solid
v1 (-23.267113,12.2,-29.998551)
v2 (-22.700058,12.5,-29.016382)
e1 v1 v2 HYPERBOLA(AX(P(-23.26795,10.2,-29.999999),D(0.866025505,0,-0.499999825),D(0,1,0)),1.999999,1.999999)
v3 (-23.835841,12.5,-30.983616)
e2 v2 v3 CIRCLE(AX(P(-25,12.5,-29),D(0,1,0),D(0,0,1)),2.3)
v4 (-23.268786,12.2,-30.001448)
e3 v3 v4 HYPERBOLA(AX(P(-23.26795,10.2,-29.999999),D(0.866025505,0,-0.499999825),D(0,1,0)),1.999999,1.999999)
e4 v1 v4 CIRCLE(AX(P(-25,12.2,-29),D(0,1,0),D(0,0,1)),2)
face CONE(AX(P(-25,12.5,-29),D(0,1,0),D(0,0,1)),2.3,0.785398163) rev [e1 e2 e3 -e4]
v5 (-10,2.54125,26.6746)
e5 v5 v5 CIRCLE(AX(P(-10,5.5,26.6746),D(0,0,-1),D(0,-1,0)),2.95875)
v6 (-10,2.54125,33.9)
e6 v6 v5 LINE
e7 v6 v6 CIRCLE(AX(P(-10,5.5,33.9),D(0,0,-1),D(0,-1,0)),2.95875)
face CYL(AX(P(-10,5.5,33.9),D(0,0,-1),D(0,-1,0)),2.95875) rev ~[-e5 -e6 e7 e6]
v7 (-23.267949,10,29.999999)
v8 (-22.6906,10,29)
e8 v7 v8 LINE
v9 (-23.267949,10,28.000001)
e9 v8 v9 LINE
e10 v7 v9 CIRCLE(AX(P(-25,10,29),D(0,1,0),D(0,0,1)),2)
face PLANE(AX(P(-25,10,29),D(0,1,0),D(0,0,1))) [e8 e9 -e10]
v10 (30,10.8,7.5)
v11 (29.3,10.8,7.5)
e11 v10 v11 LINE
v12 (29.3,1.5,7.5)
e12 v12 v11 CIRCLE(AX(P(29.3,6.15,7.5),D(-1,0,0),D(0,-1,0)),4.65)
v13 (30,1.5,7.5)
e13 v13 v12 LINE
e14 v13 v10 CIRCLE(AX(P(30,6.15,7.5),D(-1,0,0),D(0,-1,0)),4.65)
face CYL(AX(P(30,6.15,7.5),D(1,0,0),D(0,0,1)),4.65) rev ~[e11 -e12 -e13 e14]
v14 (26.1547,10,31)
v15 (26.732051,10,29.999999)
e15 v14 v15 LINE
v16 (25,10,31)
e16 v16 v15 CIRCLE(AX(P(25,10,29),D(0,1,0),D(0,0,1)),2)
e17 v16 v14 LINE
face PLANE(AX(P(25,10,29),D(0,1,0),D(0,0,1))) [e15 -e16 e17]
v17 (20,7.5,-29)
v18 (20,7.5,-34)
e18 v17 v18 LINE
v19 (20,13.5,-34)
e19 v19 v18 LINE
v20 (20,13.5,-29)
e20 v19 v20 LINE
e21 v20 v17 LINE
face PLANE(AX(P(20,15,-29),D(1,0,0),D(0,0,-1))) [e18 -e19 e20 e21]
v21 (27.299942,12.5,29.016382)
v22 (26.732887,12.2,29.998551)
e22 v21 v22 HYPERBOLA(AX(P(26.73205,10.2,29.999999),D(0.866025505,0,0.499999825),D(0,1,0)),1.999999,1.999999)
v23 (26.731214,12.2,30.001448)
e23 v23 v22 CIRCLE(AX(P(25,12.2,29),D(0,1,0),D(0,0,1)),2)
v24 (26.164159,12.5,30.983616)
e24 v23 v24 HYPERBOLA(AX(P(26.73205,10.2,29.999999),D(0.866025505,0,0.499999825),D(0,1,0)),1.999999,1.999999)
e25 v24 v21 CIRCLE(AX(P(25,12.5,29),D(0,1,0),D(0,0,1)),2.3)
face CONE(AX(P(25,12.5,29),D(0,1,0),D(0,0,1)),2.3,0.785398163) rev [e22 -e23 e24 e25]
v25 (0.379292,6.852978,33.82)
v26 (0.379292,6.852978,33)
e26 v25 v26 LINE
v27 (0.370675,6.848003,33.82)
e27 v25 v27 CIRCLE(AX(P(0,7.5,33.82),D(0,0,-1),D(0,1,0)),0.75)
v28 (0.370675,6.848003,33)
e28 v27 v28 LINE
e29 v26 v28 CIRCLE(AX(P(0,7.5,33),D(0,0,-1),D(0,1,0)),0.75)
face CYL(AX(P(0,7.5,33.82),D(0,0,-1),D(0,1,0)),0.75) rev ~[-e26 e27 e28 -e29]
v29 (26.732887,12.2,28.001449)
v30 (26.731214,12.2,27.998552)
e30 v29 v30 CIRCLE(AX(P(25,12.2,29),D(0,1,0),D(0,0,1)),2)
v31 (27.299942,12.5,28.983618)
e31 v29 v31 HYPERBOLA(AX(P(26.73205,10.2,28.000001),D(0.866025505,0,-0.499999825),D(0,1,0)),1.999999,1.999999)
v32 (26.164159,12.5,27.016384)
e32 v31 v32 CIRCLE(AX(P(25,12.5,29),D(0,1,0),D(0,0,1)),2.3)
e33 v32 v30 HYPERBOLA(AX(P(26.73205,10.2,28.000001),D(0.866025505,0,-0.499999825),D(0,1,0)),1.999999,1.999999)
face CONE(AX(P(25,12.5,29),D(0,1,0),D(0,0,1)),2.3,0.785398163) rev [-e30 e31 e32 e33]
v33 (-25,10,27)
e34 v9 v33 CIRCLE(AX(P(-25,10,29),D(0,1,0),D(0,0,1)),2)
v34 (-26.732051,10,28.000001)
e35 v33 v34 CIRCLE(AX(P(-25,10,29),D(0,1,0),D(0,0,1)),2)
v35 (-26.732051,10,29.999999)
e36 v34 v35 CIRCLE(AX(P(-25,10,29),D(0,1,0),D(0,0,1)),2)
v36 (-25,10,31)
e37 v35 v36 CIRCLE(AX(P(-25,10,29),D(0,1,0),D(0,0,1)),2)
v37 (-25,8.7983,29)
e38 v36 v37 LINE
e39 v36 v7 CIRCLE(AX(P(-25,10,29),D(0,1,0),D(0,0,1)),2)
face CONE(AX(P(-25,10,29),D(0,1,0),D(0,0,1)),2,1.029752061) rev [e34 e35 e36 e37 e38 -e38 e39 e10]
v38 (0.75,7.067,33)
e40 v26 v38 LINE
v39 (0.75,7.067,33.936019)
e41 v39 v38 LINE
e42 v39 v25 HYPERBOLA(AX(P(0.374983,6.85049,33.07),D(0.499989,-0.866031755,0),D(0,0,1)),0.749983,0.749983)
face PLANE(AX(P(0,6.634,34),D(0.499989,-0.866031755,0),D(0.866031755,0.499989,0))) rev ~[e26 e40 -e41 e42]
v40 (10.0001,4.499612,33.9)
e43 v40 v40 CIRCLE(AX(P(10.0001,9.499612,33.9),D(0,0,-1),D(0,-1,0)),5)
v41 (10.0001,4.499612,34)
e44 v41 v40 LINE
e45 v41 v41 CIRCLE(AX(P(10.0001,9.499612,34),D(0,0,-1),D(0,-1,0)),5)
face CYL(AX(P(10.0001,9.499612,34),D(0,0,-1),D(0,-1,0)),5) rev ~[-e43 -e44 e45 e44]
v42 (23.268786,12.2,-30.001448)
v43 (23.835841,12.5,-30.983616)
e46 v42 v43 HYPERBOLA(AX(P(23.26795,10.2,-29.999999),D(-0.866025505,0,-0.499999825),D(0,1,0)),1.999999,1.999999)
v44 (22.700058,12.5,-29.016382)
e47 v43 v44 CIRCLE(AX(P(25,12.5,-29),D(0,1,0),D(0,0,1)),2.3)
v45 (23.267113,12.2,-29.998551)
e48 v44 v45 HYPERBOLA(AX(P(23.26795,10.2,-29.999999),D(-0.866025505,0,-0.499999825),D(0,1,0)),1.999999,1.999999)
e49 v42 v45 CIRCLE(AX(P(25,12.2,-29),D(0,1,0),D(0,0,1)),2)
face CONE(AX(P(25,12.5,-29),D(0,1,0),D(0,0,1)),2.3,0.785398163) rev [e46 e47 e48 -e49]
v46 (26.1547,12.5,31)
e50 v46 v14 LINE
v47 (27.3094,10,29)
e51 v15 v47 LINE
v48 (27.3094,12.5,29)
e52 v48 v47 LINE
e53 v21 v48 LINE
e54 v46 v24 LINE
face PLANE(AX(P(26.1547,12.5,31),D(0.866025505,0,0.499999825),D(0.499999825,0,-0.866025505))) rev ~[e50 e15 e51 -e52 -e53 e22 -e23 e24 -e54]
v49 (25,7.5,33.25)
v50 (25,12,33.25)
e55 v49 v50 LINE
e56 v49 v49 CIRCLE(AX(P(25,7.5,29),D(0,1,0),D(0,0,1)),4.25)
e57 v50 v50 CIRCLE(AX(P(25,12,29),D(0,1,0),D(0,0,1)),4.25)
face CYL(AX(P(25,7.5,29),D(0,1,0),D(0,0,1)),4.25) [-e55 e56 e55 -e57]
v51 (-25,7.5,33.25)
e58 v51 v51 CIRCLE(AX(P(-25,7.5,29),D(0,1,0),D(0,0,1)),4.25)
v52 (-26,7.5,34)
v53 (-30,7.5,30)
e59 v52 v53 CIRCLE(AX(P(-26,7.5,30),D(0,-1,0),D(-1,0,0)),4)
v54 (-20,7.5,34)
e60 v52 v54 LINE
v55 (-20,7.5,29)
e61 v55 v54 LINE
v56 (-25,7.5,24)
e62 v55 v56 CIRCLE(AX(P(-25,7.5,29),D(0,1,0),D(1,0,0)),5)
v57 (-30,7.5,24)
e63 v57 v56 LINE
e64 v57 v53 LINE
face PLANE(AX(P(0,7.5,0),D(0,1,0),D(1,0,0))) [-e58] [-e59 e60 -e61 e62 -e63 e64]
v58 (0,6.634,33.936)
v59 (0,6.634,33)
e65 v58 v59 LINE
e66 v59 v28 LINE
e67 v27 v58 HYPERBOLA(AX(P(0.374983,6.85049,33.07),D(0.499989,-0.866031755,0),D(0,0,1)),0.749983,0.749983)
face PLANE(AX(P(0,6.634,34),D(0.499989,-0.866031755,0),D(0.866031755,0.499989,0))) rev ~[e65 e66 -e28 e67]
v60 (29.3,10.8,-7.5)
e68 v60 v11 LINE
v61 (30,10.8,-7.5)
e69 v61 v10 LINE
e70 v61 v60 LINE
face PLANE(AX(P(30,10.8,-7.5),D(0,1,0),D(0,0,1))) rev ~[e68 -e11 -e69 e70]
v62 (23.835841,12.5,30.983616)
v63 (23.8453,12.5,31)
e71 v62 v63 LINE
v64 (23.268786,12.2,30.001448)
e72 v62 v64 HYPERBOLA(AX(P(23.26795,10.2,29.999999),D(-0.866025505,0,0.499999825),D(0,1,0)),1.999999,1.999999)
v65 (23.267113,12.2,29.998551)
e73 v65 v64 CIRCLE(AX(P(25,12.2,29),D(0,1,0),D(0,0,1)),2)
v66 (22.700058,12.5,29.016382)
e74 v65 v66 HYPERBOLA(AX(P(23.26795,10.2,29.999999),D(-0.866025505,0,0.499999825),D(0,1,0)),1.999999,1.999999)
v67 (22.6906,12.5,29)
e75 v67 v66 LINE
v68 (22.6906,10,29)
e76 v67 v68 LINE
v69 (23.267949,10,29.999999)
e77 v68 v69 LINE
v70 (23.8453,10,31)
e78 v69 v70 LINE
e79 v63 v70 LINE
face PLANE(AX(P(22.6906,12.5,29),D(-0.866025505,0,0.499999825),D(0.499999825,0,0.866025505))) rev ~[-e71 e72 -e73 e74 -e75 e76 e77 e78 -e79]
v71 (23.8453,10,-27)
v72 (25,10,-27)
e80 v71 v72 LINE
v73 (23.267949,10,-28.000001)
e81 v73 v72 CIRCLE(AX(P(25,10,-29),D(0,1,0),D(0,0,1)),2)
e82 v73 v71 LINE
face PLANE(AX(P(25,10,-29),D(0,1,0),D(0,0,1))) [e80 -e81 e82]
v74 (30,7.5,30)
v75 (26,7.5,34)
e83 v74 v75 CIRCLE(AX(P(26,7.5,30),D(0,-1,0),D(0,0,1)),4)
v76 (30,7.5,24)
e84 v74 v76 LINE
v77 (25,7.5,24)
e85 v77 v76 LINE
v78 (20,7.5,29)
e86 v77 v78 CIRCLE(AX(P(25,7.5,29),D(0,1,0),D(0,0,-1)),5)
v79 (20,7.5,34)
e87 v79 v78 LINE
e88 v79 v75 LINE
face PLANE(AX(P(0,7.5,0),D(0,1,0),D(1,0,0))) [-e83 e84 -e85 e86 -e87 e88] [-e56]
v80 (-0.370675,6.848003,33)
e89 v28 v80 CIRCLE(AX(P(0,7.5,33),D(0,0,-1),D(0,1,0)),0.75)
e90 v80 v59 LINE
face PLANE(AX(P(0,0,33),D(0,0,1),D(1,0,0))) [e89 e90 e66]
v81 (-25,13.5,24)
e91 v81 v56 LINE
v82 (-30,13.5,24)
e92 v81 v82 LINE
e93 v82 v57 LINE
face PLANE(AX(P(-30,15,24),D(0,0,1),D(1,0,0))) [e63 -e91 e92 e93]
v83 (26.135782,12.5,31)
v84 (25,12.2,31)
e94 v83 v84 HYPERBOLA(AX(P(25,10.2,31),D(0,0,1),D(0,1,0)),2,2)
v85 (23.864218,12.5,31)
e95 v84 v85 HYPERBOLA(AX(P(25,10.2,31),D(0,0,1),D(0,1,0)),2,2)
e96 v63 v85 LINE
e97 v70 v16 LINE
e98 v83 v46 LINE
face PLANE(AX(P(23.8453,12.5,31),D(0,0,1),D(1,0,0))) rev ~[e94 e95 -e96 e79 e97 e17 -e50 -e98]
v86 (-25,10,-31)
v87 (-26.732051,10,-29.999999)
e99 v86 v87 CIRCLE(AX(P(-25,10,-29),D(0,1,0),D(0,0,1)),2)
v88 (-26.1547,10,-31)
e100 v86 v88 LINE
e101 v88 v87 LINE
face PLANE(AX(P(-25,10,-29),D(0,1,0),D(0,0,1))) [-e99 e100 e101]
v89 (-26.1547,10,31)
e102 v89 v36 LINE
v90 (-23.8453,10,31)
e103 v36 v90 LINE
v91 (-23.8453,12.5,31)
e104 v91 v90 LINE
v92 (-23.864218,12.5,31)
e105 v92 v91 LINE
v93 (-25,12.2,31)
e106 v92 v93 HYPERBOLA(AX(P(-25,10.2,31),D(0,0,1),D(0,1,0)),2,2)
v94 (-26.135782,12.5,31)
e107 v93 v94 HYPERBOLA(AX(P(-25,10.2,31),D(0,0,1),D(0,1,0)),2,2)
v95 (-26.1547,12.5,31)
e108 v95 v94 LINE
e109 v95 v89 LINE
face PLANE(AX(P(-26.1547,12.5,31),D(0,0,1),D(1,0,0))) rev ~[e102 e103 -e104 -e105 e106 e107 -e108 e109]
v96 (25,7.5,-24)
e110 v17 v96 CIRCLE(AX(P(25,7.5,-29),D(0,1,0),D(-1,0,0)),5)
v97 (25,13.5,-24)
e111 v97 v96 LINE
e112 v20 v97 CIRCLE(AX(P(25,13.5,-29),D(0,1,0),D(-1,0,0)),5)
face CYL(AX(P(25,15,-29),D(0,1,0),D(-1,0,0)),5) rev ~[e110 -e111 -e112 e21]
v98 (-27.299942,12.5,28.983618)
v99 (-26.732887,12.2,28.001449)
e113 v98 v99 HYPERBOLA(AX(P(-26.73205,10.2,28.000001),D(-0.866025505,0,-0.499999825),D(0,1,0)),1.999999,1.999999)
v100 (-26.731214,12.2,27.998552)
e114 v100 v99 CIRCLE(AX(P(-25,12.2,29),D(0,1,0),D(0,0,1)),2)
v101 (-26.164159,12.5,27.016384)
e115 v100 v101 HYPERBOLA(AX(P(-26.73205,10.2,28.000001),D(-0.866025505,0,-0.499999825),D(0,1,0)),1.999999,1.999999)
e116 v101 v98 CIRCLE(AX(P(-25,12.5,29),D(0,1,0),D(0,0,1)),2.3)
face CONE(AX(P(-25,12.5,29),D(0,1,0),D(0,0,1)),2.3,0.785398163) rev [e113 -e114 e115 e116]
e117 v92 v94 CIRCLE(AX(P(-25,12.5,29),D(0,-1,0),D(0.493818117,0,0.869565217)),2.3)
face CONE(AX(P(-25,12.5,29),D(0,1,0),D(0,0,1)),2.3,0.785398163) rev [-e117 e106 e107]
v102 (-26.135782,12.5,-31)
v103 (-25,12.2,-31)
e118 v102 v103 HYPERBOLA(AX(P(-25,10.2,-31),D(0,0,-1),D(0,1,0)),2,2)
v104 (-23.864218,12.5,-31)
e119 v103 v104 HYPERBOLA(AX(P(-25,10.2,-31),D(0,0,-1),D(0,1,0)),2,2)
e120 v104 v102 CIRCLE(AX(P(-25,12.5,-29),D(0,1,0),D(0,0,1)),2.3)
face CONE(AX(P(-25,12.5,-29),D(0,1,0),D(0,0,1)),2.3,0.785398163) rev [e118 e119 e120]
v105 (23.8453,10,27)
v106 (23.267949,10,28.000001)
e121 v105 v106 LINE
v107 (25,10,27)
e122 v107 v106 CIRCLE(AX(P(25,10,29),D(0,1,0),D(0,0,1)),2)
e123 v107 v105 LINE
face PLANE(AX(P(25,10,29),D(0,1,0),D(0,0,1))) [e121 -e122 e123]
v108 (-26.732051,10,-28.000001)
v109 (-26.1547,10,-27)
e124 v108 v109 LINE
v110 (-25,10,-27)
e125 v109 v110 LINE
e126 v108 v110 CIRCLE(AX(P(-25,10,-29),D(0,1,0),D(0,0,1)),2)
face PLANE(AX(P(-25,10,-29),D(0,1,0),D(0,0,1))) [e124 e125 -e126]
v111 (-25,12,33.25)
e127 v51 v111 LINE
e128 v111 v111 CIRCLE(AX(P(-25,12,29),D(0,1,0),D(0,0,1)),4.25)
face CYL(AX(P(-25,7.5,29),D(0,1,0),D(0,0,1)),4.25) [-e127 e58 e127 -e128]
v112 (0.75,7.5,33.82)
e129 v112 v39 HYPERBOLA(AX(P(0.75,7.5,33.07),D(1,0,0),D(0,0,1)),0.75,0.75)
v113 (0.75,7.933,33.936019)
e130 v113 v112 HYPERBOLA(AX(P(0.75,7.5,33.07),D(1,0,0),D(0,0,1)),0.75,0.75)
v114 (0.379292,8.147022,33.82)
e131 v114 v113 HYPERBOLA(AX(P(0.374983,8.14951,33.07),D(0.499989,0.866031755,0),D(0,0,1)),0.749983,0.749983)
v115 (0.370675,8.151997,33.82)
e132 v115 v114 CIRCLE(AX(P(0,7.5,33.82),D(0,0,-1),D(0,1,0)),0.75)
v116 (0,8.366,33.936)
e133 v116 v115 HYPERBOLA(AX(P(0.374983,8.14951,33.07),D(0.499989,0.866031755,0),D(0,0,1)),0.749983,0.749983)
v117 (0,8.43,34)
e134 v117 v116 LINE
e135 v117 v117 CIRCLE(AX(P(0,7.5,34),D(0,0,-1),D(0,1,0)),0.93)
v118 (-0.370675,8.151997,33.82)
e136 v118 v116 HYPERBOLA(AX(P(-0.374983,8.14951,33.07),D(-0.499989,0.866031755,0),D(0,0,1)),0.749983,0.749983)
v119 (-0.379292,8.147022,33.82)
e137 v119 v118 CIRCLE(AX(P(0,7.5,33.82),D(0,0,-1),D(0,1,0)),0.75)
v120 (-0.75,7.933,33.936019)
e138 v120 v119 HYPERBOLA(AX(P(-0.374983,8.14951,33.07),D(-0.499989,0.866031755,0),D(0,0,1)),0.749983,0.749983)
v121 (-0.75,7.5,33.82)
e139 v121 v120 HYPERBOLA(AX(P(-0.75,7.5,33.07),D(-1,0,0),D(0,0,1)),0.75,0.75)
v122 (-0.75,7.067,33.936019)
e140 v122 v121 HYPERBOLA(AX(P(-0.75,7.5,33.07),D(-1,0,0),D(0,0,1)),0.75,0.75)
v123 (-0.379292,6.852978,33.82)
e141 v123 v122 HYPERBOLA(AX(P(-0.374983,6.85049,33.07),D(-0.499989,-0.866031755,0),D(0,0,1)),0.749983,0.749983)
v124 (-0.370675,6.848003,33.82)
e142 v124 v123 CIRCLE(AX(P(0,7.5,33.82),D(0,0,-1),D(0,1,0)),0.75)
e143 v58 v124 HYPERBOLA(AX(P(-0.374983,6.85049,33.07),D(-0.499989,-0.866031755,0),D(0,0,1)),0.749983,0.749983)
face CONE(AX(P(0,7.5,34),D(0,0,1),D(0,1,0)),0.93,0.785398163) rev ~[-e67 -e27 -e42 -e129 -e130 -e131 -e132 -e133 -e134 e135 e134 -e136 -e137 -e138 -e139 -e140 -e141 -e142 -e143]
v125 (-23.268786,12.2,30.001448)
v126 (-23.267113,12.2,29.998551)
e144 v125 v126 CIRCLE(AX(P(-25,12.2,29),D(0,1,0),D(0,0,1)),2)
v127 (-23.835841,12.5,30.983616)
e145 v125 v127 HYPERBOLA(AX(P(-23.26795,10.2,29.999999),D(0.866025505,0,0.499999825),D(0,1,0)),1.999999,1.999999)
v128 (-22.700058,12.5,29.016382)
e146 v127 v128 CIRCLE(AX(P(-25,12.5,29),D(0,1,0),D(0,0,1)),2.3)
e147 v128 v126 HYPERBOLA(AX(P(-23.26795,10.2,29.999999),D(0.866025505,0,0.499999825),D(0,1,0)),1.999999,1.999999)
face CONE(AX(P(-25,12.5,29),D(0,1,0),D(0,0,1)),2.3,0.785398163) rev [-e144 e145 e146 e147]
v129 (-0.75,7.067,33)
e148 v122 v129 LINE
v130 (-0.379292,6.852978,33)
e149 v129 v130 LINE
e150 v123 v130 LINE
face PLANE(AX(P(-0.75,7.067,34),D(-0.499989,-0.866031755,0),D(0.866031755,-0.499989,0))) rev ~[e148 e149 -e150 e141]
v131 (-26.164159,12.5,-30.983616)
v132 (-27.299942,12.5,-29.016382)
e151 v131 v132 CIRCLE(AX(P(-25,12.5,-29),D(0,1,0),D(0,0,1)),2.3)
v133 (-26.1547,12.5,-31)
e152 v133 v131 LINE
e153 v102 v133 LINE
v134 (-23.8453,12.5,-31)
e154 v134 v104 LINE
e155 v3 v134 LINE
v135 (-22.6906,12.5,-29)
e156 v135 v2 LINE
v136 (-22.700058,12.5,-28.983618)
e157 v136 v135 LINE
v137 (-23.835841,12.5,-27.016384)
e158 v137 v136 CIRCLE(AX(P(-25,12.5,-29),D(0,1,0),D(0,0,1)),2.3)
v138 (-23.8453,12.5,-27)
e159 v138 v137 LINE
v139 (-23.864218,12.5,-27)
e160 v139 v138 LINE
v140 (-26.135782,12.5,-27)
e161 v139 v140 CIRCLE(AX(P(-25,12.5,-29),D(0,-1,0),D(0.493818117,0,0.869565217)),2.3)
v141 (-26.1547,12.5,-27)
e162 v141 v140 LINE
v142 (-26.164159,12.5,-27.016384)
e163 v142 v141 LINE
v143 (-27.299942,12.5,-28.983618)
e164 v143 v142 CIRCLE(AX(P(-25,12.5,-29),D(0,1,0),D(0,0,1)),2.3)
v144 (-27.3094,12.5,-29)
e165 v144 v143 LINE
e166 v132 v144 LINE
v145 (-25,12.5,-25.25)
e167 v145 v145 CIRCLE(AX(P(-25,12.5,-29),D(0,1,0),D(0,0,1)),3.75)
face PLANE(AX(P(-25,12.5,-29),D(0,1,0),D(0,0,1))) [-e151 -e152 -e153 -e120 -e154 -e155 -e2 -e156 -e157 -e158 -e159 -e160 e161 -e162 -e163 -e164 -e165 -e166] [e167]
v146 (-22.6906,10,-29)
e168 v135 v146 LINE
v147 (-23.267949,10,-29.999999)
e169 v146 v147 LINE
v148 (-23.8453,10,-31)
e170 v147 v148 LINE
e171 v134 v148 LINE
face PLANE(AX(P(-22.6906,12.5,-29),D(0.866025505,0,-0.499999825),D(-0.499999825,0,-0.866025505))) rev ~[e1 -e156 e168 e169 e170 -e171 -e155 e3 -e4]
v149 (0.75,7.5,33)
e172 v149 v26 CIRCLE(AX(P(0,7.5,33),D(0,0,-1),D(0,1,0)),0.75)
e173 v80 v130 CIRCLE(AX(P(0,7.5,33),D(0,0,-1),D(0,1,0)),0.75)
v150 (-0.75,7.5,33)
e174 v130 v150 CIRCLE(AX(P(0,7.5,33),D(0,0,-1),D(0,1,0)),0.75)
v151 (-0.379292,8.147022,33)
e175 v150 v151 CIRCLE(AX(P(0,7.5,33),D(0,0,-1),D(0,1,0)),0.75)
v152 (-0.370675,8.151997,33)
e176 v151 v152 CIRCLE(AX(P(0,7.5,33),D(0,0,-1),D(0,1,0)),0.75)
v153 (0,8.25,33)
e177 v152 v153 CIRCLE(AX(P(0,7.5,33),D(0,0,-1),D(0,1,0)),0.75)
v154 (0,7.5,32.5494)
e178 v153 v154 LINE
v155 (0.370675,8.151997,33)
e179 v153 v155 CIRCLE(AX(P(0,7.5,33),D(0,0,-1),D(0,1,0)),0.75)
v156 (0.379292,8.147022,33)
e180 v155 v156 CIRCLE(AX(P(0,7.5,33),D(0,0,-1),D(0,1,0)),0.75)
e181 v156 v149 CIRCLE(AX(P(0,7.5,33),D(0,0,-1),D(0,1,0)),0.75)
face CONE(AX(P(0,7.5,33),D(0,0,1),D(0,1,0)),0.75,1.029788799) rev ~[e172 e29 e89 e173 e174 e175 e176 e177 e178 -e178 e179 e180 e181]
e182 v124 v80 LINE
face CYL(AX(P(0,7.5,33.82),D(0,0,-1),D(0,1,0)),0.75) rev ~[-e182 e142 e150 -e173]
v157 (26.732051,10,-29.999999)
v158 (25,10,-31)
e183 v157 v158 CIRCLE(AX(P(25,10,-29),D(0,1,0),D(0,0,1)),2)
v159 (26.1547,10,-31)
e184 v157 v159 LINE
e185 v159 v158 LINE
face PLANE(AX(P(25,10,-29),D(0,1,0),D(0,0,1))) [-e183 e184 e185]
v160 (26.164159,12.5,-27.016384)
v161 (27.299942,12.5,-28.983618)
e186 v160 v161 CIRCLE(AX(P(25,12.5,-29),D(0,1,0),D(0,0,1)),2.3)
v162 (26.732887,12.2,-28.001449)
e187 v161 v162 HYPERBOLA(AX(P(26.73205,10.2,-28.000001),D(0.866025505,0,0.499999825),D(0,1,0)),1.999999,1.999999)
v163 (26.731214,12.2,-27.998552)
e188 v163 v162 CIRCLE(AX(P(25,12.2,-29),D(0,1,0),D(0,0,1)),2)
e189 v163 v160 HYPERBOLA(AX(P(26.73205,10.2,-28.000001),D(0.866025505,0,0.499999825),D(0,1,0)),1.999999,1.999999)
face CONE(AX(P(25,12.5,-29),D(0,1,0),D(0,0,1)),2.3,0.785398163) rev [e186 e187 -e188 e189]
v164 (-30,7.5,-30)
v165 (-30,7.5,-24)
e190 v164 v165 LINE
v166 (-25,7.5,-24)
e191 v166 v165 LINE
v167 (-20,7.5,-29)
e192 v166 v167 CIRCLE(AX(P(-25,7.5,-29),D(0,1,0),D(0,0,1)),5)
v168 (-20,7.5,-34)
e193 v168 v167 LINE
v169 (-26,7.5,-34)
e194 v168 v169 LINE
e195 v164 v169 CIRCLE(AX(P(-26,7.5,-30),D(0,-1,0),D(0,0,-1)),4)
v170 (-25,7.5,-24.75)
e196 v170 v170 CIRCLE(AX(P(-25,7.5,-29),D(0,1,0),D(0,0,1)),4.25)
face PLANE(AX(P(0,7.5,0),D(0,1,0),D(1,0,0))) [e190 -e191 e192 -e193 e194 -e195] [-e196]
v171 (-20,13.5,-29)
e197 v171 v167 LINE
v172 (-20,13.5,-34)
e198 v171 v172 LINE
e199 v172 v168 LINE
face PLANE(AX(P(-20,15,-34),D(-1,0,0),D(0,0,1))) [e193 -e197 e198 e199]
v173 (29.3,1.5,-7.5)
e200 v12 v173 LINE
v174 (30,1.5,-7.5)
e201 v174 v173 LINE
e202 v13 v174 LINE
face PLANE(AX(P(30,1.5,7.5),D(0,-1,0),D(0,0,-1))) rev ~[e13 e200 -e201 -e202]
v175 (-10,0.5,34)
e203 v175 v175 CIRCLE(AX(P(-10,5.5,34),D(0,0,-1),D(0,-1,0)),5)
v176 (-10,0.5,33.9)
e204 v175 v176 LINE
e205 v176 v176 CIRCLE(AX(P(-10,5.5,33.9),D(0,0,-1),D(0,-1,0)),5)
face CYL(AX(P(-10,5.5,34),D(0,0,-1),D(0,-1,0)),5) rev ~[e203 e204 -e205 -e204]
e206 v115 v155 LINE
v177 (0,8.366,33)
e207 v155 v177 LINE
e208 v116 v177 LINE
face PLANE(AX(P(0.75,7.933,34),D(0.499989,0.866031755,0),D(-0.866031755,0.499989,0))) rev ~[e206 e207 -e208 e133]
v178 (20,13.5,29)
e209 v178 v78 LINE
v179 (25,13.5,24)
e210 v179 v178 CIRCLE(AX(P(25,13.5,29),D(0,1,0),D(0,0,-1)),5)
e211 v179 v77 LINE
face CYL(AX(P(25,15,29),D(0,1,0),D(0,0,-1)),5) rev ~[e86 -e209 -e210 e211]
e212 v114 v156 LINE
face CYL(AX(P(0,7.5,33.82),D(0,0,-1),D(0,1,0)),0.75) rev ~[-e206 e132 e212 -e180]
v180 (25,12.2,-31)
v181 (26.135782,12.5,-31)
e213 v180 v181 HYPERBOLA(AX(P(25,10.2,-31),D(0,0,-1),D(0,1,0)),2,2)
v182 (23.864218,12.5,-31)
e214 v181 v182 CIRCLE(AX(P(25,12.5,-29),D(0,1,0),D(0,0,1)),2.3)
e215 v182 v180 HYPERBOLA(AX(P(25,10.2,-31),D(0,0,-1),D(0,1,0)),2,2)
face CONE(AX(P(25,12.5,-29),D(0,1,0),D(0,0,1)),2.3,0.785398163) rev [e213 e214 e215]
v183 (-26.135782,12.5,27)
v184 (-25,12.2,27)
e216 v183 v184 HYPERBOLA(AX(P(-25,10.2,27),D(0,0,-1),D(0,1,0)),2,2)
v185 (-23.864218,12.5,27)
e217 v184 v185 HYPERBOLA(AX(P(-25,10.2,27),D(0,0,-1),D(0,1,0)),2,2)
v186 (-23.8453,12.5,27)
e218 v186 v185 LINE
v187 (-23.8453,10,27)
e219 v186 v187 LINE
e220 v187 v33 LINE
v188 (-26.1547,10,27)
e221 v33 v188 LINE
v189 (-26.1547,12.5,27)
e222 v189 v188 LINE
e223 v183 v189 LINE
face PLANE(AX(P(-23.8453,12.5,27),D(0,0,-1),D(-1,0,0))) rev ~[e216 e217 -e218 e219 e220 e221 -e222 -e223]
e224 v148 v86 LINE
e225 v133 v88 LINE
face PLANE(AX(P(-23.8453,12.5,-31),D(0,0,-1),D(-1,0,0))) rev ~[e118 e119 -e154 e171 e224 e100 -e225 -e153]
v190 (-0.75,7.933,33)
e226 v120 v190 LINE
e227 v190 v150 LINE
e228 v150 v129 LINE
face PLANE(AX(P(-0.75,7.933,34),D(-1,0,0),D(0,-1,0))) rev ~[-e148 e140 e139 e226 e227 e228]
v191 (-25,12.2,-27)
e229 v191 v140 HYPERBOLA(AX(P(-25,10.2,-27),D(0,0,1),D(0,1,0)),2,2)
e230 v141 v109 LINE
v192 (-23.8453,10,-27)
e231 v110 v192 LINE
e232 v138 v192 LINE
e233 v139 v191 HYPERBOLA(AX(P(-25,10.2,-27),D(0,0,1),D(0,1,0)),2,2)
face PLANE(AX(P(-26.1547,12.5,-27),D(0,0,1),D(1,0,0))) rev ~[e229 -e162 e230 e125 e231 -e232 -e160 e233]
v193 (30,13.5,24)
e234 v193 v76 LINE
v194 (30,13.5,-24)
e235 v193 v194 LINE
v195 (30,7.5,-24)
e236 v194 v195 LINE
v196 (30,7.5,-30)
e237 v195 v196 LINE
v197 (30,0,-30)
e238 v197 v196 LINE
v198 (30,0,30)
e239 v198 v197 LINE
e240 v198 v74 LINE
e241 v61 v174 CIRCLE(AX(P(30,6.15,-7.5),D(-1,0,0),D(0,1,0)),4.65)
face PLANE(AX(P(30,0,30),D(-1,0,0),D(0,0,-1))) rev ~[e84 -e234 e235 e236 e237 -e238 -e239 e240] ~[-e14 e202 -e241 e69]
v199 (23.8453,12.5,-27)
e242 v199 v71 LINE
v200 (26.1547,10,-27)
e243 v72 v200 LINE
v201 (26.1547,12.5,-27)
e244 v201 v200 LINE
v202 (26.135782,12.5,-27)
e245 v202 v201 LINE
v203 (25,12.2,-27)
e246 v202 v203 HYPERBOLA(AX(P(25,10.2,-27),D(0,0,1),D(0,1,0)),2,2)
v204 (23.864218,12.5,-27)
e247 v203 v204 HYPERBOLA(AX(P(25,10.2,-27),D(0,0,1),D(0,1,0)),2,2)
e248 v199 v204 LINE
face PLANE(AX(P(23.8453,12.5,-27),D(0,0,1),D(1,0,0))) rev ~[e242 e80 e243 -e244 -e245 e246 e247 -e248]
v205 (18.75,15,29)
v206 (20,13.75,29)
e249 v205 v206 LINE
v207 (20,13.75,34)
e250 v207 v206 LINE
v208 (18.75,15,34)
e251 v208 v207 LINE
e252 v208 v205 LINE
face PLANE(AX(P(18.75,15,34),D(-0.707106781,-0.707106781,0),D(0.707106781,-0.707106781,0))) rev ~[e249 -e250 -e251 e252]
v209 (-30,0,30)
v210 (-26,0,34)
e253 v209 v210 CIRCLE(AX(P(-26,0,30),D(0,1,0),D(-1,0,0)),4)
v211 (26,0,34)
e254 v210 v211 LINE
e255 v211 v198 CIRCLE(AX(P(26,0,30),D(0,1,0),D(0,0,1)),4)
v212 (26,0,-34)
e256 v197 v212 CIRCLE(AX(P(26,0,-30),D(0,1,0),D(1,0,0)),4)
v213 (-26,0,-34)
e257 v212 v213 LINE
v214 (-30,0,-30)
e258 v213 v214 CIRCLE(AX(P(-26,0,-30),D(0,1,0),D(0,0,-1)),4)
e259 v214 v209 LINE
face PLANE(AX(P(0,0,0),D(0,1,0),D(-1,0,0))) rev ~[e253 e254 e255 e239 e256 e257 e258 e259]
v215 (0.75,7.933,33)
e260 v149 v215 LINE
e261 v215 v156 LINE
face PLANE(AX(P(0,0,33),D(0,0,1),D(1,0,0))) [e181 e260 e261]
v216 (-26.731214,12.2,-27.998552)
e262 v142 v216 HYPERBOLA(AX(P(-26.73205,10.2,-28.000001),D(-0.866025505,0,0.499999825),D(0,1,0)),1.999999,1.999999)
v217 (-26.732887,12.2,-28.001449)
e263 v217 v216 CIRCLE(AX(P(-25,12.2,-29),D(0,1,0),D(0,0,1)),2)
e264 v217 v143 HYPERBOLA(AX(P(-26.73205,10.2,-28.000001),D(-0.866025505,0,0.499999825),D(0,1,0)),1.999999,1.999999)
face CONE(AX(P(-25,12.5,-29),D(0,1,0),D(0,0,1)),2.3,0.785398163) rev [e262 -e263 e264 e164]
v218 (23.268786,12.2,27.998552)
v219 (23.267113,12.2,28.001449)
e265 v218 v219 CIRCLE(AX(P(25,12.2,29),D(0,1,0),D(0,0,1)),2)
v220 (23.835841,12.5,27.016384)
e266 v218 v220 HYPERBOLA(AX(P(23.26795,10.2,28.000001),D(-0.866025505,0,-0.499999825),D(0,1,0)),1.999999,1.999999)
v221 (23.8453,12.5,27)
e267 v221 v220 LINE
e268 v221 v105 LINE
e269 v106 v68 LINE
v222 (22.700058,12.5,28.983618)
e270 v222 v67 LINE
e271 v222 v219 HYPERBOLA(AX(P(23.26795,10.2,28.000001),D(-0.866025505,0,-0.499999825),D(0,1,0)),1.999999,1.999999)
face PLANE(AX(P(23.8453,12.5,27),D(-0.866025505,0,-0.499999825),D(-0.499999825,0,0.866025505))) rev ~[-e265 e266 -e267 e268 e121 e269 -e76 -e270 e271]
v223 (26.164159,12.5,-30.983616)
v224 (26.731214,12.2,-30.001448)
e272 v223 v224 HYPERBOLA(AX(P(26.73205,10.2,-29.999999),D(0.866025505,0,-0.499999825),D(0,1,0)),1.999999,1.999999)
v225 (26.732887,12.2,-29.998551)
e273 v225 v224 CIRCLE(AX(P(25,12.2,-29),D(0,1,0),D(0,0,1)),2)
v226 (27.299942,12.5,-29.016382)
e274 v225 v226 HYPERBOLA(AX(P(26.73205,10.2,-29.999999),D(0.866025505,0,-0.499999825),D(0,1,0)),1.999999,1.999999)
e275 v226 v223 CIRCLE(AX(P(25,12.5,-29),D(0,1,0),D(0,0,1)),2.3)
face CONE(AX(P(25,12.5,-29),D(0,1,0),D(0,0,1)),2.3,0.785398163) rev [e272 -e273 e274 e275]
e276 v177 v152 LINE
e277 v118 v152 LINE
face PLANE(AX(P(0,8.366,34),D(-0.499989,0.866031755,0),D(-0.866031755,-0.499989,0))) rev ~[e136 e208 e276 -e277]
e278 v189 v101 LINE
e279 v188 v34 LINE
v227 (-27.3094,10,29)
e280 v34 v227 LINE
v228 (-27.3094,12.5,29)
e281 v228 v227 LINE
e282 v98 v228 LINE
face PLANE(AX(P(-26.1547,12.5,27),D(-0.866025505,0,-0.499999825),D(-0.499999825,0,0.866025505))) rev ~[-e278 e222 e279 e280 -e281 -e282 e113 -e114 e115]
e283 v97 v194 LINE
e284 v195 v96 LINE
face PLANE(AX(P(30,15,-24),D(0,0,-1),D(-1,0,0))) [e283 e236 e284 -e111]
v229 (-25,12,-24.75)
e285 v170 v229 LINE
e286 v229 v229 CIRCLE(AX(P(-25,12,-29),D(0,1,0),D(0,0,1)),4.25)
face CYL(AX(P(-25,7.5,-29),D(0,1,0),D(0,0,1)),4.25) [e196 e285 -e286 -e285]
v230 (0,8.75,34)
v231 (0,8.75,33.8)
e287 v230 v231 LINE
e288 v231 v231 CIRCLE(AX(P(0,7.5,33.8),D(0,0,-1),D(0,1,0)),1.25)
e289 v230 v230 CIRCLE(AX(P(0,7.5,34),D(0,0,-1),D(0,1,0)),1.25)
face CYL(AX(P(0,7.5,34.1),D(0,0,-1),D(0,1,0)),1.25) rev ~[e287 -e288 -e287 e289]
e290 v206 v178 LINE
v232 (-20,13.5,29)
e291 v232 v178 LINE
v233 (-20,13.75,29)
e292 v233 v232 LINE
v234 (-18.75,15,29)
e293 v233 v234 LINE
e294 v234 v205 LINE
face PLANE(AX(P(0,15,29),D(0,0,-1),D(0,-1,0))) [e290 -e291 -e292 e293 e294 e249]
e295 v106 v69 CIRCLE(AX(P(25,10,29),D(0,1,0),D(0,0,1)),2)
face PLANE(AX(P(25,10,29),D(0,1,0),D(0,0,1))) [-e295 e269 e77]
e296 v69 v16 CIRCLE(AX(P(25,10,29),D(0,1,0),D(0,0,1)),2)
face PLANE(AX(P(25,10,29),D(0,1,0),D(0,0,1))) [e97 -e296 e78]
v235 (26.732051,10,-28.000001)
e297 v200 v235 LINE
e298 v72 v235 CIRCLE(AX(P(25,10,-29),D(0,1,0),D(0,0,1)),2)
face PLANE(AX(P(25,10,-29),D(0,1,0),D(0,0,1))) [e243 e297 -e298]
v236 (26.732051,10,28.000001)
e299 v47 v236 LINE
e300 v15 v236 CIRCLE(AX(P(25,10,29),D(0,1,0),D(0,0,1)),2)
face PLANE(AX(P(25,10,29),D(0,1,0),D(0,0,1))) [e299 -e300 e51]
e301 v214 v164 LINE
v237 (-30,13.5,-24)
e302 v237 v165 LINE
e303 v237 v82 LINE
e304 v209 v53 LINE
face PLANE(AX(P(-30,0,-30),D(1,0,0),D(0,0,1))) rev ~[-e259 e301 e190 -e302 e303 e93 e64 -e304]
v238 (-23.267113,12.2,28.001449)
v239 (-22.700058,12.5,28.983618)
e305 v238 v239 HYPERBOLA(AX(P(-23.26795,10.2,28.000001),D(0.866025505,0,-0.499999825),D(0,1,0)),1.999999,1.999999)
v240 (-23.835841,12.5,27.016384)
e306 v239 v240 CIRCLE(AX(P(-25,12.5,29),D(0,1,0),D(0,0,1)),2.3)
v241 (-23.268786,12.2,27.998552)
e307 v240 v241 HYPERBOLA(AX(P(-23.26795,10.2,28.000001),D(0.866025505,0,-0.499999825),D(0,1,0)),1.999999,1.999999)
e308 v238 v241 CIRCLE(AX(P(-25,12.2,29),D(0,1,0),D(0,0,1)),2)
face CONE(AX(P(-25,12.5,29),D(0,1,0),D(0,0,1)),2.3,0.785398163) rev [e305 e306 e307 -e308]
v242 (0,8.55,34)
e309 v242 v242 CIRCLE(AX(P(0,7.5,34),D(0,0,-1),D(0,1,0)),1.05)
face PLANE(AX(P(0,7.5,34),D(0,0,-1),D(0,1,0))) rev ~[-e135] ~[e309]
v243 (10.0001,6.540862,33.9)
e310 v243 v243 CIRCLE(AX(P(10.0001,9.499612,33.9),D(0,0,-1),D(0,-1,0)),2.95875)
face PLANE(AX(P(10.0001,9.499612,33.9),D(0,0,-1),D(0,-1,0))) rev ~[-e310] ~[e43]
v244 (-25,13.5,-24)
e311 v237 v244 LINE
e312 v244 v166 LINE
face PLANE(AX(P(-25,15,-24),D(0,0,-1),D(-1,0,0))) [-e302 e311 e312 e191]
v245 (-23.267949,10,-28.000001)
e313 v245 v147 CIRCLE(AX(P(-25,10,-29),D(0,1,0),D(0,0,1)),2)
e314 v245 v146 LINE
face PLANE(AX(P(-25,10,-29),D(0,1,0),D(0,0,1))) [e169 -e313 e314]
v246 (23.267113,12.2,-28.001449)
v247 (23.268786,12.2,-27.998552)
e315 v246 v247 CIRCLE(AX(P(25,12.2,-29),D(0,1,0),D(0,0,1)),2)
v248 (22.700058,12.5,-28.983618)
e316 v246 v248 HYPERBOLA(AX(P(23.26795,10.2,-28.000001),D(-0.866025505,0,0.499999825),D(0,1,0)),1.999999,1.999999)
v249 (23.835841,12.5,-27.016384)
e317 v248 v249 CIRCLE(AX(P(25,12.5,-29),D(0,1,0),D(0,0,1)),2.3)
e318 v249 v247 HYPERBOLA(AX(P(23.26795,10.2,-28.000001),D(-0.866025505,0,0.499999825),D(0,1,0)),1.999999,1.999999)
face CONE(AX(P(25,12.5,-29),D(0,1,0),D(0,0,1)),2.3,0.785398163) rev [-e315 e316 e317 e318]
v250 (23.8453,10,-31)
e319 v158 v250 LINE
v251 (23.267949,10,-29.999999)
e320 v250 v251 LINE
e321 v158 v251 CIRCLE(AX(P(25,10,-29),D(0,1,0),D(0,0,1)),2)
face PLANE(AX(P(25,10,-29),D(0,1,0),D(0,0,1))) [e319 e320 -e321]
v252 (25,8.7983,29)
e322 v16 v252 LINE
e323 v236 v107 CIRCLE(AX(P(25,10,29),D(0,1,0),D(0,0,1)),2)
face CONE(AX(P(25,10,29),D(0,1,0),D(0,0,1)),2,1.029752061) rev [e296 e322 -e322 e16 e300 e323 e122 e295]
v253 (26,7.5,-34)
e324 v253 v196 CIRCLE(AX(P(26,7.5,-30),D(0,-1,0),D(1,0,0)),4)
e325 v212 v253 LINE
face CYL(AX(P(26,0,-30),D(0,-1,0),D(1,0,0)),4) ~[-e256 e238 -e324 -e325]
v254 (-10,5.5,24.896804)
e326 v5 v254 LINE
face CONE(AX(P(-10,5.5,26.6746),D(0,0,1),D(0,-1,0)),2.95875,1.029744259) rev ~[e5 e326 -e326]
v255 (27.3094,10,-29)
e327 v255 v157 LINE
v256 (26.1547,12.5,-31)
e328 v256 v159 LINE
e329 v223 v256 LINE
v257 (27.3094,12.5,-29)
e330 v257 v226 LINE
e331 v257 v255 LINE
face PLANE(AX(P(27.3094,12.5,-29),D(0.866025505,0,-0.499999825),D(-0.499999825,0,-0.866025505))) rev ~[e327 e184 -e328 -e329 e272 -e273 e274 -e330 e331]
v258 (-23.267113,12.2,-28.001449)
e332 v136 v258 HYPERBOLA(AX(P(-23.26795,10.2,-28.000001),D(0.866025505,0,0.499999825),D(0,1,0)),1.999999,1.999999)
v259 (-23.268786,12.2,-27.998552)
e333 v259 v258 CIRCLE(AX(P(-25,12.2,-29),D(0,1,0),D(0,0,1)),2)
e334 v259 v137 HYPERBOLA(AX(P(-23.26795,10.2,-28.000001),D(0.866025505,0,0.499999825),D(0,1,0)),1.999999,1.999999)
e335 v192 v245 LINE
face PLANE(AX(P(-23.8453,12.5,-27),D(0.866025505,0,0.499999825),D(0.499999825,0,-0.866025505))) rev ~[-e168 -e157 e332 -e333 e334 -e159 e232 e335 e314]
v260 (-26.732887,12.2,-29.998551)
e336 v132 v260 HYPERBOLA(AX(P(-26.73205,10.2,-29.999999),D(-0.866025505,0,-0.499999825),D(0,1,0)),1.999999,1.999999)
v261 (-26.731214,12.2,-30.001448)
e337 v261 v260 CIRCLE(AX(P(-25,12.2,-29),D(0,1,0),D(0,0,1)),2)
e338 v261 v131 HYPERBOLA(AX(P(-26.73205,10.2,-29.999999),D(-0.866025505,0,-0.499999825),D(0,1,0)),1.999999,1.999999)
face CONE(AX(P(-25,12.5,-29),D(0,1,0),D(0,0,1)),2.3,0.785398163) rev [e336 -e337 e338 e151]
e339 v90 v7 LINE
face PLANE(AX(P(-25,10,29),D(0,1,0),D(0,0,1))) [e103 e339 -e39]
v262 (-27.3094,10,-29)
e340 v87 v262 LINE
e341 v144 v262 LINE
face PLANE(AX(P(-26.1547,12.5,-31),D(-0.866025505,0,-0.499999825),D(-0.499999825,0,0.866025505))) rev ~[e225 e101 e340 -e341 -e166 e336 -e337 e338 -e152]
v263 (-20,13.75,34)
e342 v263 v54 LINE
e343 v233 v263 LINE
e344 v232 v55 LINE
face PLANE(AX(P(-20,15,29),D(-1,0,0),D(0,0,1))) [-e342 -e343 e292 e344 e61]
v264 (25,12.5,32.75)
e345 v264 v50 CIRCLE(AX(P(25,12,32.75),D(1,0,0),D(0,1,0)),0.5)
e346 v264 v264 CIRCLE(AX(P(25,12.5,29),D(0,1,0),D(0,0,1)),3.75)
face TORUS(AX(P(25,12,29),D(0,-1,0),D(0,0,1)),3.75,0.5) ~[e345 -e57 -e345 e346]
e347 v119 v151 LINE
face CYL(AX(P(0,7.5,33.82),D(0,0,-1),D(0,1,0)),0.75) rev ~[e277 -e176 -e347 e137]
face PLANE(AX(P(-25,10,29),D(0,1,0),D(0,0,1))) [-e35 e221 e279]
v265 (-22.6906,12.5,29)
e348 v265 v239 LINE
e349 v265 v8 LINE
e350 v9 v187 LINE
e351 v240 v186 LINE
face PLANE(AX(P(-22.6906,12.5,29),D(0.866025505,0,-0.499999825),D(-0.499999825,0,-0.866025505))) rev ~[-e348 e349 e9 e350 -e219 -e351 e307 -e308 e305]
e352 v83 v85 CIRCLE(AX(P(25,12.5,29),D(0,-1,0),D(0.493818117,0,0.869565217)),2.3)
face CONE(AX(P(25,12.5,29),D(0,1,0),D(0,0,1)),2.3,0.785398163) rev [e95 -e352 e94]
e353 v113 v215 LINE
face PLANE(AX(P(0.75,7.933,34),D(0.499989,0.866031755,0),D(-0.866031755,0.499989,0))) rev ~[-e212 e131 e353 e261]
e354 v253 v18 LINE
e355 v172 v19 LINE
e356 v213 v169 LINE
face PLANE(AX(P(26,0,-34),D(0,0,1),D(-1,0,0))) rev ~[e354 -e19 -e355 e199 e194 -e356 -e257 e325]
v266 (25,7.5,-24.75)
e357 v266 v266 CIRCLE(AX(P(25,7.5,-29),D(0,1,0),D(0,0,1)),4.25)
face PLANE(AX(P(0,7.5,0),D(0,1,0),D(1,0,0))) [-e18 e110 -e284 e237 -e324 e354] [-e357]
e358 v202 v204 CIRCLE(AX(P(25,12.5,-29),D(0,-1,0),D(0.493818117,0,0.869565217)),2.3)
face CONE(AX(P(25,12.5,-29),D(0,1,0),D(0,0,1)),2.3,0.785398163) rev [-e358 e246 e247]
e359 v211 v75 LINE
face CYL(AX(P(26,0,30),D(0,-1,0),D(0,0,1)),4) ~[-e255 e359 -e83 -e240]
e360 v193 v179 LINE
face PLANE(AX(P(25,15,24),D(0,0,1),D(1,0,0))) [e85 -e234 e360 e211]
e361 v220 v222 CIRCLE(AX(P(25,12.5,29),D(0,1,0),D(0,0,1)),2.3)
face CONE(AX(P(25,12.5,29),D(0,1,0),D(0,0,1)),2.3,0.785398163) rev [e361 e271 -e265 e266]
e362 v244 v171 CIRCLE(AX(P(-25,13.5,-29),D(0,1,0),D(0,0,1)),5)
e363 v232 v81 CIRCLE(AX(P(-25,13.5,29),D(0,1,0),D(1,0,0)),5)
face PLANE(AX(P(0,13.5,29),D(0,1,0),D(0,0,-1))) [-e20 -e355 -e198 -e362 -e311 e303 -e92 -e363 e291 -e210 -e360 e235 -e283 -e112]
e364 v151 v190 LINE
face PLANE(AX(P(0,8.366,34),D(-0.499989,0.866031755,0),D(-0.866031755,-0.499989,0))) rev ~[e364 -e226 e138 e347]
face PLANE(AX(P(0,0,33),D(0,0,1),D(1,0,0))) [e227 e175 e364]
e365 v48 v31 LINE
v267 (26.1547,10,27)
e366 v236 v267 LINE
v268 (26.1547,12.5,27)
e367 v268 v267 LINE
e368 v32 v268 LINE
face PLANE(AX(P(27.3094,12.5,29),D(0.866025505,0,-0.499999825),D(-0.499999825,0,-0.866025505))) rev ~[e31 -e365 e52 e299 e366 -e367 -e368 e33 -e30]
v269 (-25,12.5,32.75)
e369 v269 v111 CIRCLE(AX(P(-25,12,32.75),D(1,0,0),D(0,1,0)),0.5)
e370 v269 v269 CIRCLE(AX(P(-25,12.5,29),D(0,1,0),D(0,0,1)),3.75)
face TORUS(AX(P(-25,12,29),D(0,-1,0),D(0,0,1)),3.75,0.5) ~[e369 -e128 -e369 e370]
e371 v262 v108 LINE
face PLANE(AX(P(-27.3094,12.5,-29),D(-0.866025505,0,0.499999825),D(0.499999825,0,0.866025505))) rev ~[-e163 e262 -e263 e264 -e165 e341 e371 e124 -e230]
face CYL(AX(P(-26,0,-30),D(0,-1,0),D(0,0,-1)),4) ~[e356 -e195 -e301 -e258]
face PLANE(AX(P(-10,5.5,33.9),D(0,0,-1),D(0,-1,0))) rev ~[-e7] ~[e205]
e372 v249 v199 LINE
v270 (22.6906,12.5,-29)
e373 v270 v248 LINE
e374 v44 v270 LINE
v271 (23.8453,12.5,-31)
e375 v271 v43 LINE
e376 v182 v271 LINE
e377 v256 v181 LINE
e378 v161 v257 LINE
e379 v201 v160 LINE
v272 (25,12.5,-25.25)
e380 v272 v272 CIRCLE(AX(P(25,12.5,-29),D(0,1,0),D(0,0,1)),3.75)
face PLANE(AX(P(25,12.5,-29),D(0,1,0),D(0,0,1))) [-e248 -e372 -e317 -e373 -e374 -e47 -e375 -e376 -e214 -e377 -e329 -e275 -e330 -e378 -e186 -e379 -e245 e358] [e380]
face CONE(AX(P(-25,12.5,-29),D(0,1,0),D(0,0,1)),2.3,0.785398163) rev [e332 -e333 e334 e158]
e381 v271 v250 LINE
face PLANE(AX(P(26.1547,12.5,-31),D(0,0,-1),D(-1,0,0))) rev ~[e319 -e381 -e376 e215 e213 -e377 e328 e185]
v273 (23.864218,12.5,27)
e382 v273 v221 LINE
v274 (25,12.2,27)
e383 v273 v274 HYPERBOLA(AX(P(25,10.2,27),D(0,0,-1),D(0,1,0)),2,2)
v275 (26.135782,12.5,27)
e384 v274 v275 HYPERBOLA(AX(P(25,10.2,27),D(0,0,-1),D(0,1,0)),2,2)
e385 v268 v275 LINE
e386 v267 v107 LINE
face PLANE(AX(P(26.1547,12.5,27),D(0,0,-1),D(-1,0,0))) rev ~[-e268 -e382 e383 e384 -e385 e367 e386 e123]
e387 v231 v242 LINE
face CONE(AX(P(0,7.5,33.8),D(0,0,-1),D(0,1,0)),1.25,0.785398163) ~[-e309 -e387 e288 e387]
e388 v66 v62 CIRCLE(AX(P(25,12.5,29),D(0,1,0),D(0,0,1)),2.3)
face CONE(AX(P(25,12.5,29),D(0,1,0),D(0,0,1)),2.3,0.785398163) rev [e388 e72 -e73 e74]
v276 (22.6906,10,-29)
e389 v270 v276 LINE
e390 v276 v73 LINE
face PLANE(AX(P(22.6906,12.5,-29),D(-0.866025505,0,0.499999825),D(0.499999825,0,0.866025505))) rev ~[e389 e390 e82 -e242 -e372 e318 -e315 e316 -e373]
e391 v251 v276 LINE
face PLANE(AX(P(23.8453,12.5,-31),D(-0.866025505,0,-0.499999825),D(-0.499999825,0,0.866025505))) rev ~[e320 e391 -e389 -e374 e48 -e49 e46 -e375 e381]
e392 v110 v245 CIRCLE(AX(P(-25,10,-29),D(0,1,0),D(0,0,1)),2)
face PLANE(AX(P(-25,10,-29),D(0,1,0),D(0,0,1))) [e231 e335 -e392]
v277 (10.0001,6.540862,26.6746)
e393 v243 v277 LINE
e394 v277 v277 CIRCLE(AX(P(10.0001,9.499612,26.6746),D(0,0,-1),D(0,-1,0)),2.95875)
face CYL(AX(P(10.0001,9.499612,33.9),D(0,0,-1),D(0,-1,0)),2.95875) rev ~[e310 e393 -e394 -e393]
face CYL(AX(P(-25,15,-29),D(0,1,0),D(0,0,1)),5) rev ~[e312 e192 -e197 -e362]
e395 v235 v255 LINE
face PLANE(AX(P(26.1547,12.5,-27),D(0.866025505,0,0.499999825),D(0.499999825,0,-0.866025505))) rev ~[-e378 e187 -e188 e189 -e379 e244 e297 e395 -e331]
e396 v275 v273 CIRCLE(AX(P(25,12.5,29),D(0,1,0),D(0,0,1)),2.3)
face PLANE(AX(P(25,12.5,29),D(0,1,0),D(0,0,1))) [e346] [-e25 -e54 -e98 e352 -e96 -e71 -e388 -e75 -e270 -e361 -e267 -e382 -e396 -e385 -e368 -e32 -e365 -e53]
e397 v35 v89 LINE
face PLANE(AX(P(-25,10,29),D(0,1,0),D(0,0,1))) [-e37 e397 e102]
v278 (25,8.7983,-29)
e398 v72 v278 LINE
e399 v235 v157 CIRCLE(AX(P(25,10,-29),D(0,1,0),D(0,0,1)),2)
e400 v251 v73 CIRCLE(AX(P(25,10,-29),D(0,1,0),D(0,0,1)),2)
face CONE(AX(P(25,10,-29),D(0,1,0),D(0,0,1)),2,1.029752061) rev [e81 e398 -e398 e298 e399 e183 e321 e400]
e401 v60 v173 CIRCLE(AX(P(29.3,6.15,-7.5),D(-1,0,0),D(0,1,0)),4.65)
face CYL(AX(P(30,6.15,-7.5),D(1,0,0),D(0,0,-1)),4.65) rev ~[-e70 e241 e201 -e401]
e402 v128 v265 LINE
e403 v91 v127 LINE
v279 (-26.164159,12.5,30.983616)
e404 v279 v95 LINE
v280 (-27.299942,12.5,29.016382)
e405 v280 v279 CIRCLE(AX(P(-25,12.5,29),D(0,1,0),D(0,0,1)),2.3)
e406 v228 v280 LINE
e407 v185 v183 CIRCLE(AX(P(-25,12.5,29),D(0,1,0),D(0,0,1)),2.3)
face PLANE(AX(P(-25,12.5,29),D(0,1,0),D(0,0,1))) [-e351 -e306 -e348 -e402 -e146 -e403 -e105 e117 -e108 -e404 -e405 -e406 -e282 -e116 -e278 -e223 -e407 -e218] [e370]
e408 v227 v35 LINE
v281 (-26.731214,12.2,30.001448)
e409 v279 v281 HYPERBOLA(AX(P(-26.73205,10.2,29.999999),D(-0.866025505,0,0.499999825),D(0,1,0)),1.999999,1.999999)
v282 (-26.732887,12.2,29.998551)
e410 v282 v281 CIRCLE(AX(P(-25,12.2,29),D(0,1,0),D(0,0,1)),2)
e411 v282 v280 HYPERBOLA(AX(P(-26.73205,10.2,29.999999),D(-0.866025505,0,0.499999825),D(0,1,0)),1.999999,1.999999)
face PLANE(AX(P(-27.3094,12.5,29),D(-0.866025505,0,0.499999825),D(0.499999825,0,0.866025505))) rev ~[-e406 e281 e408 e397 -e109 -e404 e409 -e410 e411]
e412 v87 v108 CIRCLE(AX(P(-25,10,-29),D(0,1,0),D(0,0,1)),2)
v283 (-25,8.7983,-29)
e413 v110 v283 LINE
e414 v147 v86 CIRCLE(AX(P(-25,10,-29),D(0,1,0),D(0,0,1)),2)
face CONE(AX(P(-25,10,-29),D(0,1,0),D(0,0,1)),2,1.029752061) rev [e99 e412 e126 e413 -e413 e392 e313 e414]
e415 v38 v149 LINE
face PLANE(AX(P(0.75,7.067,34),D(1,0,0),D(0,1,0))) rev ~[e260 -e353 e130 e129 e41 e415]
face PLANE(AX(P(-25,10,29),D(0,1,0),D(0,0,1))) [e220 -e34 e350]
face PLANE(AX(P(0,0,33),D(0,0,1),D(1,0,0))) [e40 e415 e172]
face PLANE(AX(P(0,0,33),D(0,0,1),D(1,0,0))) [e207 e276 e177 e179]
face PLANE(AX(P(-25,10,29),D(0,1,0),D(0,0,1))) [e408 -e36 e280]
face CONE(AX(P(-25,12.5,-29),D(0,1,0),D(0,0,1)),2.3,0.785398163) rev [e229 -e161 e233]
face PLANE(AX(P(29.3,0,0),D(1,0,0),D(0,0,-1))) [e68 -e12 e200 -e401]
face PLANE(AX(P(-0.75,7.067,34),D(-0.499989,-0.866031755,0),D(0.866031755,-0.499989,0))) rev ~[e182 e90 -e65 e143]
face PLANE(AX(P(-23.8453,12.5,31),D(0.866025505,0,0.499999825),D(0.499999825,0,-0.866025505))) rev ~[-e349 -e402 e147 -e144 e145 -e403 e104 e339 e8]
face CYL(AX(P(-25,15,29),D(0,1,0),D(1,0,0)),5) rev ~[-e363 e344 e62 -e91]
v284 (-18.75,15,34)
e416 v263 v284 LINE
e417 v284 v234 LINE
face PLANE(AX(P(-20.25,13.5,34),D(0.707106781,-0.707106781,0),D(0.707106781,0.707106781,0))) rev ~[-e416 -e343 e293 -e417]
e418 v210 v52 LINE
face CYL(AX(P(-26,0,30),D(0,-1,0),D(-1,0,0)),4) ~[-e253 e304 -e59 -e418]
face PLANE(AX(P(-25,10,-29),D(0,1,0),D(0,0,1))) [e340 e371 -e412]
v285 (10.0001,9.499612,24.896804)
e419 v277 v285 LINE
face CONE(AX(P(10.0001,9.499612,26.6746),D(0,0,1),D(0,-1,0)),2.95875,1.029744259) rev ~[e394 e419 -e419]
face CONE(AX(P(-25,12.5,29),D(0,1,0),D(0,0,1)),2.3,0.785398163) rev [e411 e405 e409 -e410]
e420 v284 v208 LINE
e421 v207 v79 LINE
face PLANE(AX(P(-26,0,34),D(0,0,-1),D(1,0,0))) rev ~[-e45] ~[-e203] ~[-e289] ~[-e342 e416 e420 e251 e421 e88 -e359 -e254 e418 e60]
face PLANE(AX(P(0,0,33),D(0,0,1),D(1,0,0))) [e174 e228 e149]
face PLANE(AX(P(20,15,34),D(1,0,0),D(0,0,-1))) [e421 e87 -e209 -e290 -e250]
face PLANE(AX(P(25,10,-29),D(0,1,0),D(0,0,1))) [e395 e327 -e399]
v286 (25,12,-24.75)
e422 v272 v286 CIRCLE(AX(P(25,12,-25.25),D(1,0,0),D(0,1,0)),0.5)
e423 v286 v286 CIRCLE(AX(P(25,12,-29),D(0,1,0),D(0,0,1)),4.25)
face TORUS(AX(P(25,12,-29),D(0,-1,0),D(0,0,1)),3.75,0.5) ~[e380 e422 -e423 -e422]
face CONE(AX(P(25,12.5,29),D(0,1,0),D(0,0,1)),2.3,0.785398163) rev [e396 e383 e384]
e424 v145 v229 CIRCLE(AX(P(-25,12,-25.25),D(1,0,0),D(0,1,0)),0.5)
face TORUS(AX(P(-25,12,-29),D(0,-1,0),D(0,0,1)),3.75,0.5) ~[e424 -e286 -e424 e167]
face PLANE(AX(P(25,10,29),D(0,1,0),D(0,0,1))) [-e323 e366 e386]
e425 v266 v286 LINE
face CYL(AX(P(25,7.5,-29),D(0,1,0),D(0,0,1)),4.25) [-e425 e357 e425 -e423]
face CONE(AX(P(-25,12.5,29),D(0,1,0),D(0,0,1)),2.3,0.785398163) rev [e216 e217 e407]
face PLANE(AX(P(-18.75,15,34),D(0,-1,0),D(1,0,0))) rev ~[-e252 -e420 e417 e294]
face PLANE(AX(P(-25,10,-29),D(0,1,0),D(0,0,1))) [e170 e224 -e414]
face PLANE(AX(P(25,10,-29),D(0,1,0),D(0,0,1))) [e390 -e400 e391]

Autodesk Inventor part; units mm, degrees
sketch "Sketch_1" plane through (0, 0, 0) normal (0, 1, 0) x (-1, 0, 0)
  line L0 (30, -30) -> (30, 30)
  arc A0 (30, 30) -> (26, 34) centre (26, 30) ccw
  line L1 (26, 34) -> (-26, 34)
  arc A1 (-26, 34) -> (-30, 30) centre (-26, 30) ccw
  line L2 (-30, 30) -> (-30, -30)
  arc A2 (-30, -30) -> (-26, -34) centre (-26, -30) ccw
  line L3 (-26, -34) -> (26, -34)
  arc A3 (26, -34) -> (30, -30) centre (26, -30) ccw
extrude "Extrusion1" add sketch "Sketch_1" along normal blind 15
sketch "Sketch_2" plane through (0, 15, 0) normal (0, 1, 0) x (1, 0, 0)
  line L0 (-35, -40) -> (35, -40)
  line L1 (35, -40) -> (35, 40)
  line L2 (35, 40) -> (-35, 40)
  line L3 (-35, 40) -> (-35, -40)
  line L4 (-30, -24) -> (-25, -24)
  arc A0 (-20, -29) -> (-25, -24) centre (-25, -29) ccw
  line L5 (-20, -29) -> (-20, -34)
  line L6 (-20, -34) -> (20, -34)
  line L7 (20, -34) -> (20, -29)
  arc A1 (25, -24) -> (20, -29) centre (25, -29) ccw
  line L8 (25, -24) -> (30, -24)
  line L9 (30, -24) -> (30, 24)
  line L10 (30, 24) -> (25, 24)
  arc A2 (20, 29) -> (25, 24) centre (25, 29) ccw
  line L11 (20, 29) -> (20, 34)
  line L12 (20, 34) -> (-20, 34)
  line L13 (-20, 34) -> (-20, 29)
  arc A3 (-25, 24) -> (-20, 29) centre (-25, 29) ccw
  line L14 (-25, 24) -> (-30, 24)
  line L15 (-30, 24) -> (-30, -24)
extrude "Extrusion2" cut sketch "Sketch_2" against normal blind 7.5
sketch "Sketch_3" plane through (0, 0, 0) normal (1, 0, 0) x (0, 1, 0)
  line L0 (13.5, 29) -> (13.5, -34)
  line L1 (13.5, -34) -> (15, -34)
  line L2 (15, -34) -> (15, 29)
  line L3 (15, 29) -> (13.5, 29)
extrude "Extrusion3" cut sketch "Sketch_3" along normal mid plane 120
sketch "Sketch_4" plane through (0, 0, 34) normal (0, 0, 1) x (1, 0, 0)
  line L0 (-20.25, 16.5) -> (-20.25, 13.5)
  line L1 (-20.25, 13.5) -> (-18.75, 15)
  line L2 (-18.75, 15) -> (18.75, 15)
  line L3 (18.75, 15) -> (20.25, 13.5)
  line L4 (20.25, 13.5) -> (20.25, 16.5)
  line L5 (20.25, 16.5) -> (-20.25, 16.5)
extrude "Extrusion4" cut sketch "Sketch_4" against normal blind 5
sketch "Sketch_5" plane through (-25, 0, 0) normal (1, 0, 0) x (0, 0, -1)
  line L0 (-29, 12.5) -> (-29, 7.5)
  line L1 (-29, 7.5) -> (-33.25, 7.5)
  line L2 (-33.25, 7.5) -> (-33.25, 12)
  arc A0 (-32.75, 12.5) -> (-33.25, 12) centre (-32.75, 12) ccw
  line L3 (-32.75, 12.5) -> (-31.3, 12.5)
  line L4 (-31.3, 12.5) -> (-31, 12.2)
  line L5 (-31, 12.2) -> (-31, 10)
  line L6 (-31, 10) -> (-29, 8.7983)
  line L7 (-29, 8.7983) -> (-29, 7.5)
revolve "Revolution1" add sketch "Sketch_5" angle 360 about axis through (-25, 12.5, 29) along (0, 1, 0)
pattern_linear "Rectangular Pattern1" count 2 spacing 50 along (1, 0, 0) count 2 spacing 58 along (0, 0, -1) of "Revolution1"
sketch "Sketch_7" plane through (-25, 12.5, 29) normal (0, 1, 0) x (0, 0, 1)
  line L0 (-2, -1.1547) -> (0, -2.3094)
  line L1 (0, -2.3094) -> (2, -1.1547)
  line L2 (2, -1.1547) -> (2, 1.1547)
  line L3 (2, 1.1547) -> (0, 2.3094)
  line L4 (0, 2.3094) -> (-2, 1.1547)
  line L5 (-2, 1.1547) -> (-2, -1.1547)
extrude "Extrusion5" cut sketch "Sketch_7" against normal blind 2.5
pattern_linear "Rectangular Pattern2" count 2 spacing 50 along (1, 0, 0) count 2 spacing 58 along (0, 0, -1) of "Extrusion5"
sketch "Sketch7" plane through (-26, 0, 34) normal (0, 0, 1) x (1, 0, 0)
  point P0 (16, 5.5)
hole "Hole1" at (-10, 5.5, 34) direction (0, 0, -1) diameter 5.9175 depth 7.3254 tip angle 118 counterbore diameter 10 counterbore depth 0.1 thread size "M7x1" class "6H" standard "ISO Metric profile"
pattern_linear "Rectangular Pattern3" count 2 spacing 20.3961 along (0.9806, 0.1961, 0) of "Hole1"
sketch "Sketch_11" plane through (0, 0, 0) normal (1, 0, 0) x (0, 1, 0)
  line L0 (7.5, 32.5494) -> (7.5, 34.1)
  line L1 (7.5, 34.1) -> (8.75, 34.1)
  line L2 (8.75, 34.1) -> (8.75, 33.8)
  line L3 (8.75, 33.8) -> (8.55, 34)
  line L4 (8.55, 34) -> (8.43, 34)
  line L5 (8.43, 34) -> (8.25, 33.82)
  line L6 (8.25, 33.82) -> (8.25, 33)
  line L7 (8.25, 33) -> (7.5, 32.5494)
  line L8 (7.5, 32.5494) -> (7.5, 34.1)
revolve "Revolution2" cut sketch "Sketch_11" angle 360 about axis through (0, 7.5, 32.5494) along (0, 0, -1)
sketch "Sketch_12" plane through (0, 0, 34) normal (0, 0, 1) x (1, 0, 0)
  line L0 (-0.75, 7.067) -> (0, 6.634)
  line L1 (0, 6.634) -> (0.75, 7.067)
  line L2 (0.75, 7.067) -> (0.75, 7.933)
  line L3 (0.75, 7.933) -> (0, 8.366)
  line L4 (0, 8.366) -> (-0.75, 7.933)
  line L5 (-0.75, 7.933) -> (-0.75, 7.067)
extrude "Extrusion6" cut sketch "Sketch_12" against normal blind 1
sketch "Sketch_15" plane through (30, 0, 0) normal (1, 0, 0) x (0, 0, -1)
  arc A0 (-12.15, 6.15) -> (-7.5, 1.5) centre (-7.5, 6.15) ccw
  line L0 (-7.5, 1.5) -> (7.5, 1.5)
  arc A1 (7.5, 1.5) -> (12.15, 6.15) centre (7.5, 6.15) ccw
  arc A2 (12.15, 6.15) -> (7.5, 10.8) centre (7.5, 6.15) ccw
  line L1 (7.5, 10.8) -> (-7.5, 10.8)
  arc A3 (-7.5, 10.8) -> (-12.15, 6.15) centre (-7.5, 6.15) ccw
extrude "Extrusion7" cut sketch "Sketch_15" against normal blind 0.7
ref_plane "geh_XY" through (0, 0, 0) normal (0, 1, 0) x (1, 0, 0)
ref_plane "geh_YZ" through (0, 0, 0) normal (1, 0, 0) x (0, 0, -1)
ref_plane "geh_ZX" through (0, 0, 0) normal (0, 0, -1) x (0, 1, 0)
ref_plane "ring_XY" through (0, 13.5, -3.5) normal (0, 1, 0) x (1, 0, 0)
ref_plane "ring_YZ" through (0, 13.5, -3.5) normal (1, 0, 0) x (0, 0, -1)
ref_plane "ring_ZX" through (0, 13.5, -3.5) normal (0, 0, -1) x (0, 1, 0)
ref_plane "typenschild_XY" through (29.3, 6.15, 0) normal (1, 0, 0) x (0, 0, -1)
ref_plane "typenschild_YZ" through (29.3, 6.15, 0) normal (0, 0, -1) x (0, 1, 0)
ref_plane "typenschild_ZX" through (29.3, 6.15, 0) normal (0, 1, 0) x (1, 0, 0)
ref_plane "vss1_XY" through (-10, 5.5, 33.9) normal (0, 0, 1) x (0, 1, 0)
ref_plane "vss1_YZ" through (-10, 5.5, 33.9) normal (0, 1, 0) x (-1, 0, 0)
ref_plane "vss1_ZX" through (-10, 5.5, 33.9) normal (-1, 0, 0) x (0, 0, 1)
ref_plane "vss2_XY" through (10, 9.5, 34) normal (0, 0, 1) x (1, 0, 0)
ref_plane "vss2_YZ" through (10, 9.5, 34) normal (1, 0, 0) x (0, 1, 0)
ref_plane "vss2_ZX" through (10, 9.5, 34) normal (0, 1, 0) x (0, 0, 1)
properties part number "SCHUNK-Deckel ERD"
